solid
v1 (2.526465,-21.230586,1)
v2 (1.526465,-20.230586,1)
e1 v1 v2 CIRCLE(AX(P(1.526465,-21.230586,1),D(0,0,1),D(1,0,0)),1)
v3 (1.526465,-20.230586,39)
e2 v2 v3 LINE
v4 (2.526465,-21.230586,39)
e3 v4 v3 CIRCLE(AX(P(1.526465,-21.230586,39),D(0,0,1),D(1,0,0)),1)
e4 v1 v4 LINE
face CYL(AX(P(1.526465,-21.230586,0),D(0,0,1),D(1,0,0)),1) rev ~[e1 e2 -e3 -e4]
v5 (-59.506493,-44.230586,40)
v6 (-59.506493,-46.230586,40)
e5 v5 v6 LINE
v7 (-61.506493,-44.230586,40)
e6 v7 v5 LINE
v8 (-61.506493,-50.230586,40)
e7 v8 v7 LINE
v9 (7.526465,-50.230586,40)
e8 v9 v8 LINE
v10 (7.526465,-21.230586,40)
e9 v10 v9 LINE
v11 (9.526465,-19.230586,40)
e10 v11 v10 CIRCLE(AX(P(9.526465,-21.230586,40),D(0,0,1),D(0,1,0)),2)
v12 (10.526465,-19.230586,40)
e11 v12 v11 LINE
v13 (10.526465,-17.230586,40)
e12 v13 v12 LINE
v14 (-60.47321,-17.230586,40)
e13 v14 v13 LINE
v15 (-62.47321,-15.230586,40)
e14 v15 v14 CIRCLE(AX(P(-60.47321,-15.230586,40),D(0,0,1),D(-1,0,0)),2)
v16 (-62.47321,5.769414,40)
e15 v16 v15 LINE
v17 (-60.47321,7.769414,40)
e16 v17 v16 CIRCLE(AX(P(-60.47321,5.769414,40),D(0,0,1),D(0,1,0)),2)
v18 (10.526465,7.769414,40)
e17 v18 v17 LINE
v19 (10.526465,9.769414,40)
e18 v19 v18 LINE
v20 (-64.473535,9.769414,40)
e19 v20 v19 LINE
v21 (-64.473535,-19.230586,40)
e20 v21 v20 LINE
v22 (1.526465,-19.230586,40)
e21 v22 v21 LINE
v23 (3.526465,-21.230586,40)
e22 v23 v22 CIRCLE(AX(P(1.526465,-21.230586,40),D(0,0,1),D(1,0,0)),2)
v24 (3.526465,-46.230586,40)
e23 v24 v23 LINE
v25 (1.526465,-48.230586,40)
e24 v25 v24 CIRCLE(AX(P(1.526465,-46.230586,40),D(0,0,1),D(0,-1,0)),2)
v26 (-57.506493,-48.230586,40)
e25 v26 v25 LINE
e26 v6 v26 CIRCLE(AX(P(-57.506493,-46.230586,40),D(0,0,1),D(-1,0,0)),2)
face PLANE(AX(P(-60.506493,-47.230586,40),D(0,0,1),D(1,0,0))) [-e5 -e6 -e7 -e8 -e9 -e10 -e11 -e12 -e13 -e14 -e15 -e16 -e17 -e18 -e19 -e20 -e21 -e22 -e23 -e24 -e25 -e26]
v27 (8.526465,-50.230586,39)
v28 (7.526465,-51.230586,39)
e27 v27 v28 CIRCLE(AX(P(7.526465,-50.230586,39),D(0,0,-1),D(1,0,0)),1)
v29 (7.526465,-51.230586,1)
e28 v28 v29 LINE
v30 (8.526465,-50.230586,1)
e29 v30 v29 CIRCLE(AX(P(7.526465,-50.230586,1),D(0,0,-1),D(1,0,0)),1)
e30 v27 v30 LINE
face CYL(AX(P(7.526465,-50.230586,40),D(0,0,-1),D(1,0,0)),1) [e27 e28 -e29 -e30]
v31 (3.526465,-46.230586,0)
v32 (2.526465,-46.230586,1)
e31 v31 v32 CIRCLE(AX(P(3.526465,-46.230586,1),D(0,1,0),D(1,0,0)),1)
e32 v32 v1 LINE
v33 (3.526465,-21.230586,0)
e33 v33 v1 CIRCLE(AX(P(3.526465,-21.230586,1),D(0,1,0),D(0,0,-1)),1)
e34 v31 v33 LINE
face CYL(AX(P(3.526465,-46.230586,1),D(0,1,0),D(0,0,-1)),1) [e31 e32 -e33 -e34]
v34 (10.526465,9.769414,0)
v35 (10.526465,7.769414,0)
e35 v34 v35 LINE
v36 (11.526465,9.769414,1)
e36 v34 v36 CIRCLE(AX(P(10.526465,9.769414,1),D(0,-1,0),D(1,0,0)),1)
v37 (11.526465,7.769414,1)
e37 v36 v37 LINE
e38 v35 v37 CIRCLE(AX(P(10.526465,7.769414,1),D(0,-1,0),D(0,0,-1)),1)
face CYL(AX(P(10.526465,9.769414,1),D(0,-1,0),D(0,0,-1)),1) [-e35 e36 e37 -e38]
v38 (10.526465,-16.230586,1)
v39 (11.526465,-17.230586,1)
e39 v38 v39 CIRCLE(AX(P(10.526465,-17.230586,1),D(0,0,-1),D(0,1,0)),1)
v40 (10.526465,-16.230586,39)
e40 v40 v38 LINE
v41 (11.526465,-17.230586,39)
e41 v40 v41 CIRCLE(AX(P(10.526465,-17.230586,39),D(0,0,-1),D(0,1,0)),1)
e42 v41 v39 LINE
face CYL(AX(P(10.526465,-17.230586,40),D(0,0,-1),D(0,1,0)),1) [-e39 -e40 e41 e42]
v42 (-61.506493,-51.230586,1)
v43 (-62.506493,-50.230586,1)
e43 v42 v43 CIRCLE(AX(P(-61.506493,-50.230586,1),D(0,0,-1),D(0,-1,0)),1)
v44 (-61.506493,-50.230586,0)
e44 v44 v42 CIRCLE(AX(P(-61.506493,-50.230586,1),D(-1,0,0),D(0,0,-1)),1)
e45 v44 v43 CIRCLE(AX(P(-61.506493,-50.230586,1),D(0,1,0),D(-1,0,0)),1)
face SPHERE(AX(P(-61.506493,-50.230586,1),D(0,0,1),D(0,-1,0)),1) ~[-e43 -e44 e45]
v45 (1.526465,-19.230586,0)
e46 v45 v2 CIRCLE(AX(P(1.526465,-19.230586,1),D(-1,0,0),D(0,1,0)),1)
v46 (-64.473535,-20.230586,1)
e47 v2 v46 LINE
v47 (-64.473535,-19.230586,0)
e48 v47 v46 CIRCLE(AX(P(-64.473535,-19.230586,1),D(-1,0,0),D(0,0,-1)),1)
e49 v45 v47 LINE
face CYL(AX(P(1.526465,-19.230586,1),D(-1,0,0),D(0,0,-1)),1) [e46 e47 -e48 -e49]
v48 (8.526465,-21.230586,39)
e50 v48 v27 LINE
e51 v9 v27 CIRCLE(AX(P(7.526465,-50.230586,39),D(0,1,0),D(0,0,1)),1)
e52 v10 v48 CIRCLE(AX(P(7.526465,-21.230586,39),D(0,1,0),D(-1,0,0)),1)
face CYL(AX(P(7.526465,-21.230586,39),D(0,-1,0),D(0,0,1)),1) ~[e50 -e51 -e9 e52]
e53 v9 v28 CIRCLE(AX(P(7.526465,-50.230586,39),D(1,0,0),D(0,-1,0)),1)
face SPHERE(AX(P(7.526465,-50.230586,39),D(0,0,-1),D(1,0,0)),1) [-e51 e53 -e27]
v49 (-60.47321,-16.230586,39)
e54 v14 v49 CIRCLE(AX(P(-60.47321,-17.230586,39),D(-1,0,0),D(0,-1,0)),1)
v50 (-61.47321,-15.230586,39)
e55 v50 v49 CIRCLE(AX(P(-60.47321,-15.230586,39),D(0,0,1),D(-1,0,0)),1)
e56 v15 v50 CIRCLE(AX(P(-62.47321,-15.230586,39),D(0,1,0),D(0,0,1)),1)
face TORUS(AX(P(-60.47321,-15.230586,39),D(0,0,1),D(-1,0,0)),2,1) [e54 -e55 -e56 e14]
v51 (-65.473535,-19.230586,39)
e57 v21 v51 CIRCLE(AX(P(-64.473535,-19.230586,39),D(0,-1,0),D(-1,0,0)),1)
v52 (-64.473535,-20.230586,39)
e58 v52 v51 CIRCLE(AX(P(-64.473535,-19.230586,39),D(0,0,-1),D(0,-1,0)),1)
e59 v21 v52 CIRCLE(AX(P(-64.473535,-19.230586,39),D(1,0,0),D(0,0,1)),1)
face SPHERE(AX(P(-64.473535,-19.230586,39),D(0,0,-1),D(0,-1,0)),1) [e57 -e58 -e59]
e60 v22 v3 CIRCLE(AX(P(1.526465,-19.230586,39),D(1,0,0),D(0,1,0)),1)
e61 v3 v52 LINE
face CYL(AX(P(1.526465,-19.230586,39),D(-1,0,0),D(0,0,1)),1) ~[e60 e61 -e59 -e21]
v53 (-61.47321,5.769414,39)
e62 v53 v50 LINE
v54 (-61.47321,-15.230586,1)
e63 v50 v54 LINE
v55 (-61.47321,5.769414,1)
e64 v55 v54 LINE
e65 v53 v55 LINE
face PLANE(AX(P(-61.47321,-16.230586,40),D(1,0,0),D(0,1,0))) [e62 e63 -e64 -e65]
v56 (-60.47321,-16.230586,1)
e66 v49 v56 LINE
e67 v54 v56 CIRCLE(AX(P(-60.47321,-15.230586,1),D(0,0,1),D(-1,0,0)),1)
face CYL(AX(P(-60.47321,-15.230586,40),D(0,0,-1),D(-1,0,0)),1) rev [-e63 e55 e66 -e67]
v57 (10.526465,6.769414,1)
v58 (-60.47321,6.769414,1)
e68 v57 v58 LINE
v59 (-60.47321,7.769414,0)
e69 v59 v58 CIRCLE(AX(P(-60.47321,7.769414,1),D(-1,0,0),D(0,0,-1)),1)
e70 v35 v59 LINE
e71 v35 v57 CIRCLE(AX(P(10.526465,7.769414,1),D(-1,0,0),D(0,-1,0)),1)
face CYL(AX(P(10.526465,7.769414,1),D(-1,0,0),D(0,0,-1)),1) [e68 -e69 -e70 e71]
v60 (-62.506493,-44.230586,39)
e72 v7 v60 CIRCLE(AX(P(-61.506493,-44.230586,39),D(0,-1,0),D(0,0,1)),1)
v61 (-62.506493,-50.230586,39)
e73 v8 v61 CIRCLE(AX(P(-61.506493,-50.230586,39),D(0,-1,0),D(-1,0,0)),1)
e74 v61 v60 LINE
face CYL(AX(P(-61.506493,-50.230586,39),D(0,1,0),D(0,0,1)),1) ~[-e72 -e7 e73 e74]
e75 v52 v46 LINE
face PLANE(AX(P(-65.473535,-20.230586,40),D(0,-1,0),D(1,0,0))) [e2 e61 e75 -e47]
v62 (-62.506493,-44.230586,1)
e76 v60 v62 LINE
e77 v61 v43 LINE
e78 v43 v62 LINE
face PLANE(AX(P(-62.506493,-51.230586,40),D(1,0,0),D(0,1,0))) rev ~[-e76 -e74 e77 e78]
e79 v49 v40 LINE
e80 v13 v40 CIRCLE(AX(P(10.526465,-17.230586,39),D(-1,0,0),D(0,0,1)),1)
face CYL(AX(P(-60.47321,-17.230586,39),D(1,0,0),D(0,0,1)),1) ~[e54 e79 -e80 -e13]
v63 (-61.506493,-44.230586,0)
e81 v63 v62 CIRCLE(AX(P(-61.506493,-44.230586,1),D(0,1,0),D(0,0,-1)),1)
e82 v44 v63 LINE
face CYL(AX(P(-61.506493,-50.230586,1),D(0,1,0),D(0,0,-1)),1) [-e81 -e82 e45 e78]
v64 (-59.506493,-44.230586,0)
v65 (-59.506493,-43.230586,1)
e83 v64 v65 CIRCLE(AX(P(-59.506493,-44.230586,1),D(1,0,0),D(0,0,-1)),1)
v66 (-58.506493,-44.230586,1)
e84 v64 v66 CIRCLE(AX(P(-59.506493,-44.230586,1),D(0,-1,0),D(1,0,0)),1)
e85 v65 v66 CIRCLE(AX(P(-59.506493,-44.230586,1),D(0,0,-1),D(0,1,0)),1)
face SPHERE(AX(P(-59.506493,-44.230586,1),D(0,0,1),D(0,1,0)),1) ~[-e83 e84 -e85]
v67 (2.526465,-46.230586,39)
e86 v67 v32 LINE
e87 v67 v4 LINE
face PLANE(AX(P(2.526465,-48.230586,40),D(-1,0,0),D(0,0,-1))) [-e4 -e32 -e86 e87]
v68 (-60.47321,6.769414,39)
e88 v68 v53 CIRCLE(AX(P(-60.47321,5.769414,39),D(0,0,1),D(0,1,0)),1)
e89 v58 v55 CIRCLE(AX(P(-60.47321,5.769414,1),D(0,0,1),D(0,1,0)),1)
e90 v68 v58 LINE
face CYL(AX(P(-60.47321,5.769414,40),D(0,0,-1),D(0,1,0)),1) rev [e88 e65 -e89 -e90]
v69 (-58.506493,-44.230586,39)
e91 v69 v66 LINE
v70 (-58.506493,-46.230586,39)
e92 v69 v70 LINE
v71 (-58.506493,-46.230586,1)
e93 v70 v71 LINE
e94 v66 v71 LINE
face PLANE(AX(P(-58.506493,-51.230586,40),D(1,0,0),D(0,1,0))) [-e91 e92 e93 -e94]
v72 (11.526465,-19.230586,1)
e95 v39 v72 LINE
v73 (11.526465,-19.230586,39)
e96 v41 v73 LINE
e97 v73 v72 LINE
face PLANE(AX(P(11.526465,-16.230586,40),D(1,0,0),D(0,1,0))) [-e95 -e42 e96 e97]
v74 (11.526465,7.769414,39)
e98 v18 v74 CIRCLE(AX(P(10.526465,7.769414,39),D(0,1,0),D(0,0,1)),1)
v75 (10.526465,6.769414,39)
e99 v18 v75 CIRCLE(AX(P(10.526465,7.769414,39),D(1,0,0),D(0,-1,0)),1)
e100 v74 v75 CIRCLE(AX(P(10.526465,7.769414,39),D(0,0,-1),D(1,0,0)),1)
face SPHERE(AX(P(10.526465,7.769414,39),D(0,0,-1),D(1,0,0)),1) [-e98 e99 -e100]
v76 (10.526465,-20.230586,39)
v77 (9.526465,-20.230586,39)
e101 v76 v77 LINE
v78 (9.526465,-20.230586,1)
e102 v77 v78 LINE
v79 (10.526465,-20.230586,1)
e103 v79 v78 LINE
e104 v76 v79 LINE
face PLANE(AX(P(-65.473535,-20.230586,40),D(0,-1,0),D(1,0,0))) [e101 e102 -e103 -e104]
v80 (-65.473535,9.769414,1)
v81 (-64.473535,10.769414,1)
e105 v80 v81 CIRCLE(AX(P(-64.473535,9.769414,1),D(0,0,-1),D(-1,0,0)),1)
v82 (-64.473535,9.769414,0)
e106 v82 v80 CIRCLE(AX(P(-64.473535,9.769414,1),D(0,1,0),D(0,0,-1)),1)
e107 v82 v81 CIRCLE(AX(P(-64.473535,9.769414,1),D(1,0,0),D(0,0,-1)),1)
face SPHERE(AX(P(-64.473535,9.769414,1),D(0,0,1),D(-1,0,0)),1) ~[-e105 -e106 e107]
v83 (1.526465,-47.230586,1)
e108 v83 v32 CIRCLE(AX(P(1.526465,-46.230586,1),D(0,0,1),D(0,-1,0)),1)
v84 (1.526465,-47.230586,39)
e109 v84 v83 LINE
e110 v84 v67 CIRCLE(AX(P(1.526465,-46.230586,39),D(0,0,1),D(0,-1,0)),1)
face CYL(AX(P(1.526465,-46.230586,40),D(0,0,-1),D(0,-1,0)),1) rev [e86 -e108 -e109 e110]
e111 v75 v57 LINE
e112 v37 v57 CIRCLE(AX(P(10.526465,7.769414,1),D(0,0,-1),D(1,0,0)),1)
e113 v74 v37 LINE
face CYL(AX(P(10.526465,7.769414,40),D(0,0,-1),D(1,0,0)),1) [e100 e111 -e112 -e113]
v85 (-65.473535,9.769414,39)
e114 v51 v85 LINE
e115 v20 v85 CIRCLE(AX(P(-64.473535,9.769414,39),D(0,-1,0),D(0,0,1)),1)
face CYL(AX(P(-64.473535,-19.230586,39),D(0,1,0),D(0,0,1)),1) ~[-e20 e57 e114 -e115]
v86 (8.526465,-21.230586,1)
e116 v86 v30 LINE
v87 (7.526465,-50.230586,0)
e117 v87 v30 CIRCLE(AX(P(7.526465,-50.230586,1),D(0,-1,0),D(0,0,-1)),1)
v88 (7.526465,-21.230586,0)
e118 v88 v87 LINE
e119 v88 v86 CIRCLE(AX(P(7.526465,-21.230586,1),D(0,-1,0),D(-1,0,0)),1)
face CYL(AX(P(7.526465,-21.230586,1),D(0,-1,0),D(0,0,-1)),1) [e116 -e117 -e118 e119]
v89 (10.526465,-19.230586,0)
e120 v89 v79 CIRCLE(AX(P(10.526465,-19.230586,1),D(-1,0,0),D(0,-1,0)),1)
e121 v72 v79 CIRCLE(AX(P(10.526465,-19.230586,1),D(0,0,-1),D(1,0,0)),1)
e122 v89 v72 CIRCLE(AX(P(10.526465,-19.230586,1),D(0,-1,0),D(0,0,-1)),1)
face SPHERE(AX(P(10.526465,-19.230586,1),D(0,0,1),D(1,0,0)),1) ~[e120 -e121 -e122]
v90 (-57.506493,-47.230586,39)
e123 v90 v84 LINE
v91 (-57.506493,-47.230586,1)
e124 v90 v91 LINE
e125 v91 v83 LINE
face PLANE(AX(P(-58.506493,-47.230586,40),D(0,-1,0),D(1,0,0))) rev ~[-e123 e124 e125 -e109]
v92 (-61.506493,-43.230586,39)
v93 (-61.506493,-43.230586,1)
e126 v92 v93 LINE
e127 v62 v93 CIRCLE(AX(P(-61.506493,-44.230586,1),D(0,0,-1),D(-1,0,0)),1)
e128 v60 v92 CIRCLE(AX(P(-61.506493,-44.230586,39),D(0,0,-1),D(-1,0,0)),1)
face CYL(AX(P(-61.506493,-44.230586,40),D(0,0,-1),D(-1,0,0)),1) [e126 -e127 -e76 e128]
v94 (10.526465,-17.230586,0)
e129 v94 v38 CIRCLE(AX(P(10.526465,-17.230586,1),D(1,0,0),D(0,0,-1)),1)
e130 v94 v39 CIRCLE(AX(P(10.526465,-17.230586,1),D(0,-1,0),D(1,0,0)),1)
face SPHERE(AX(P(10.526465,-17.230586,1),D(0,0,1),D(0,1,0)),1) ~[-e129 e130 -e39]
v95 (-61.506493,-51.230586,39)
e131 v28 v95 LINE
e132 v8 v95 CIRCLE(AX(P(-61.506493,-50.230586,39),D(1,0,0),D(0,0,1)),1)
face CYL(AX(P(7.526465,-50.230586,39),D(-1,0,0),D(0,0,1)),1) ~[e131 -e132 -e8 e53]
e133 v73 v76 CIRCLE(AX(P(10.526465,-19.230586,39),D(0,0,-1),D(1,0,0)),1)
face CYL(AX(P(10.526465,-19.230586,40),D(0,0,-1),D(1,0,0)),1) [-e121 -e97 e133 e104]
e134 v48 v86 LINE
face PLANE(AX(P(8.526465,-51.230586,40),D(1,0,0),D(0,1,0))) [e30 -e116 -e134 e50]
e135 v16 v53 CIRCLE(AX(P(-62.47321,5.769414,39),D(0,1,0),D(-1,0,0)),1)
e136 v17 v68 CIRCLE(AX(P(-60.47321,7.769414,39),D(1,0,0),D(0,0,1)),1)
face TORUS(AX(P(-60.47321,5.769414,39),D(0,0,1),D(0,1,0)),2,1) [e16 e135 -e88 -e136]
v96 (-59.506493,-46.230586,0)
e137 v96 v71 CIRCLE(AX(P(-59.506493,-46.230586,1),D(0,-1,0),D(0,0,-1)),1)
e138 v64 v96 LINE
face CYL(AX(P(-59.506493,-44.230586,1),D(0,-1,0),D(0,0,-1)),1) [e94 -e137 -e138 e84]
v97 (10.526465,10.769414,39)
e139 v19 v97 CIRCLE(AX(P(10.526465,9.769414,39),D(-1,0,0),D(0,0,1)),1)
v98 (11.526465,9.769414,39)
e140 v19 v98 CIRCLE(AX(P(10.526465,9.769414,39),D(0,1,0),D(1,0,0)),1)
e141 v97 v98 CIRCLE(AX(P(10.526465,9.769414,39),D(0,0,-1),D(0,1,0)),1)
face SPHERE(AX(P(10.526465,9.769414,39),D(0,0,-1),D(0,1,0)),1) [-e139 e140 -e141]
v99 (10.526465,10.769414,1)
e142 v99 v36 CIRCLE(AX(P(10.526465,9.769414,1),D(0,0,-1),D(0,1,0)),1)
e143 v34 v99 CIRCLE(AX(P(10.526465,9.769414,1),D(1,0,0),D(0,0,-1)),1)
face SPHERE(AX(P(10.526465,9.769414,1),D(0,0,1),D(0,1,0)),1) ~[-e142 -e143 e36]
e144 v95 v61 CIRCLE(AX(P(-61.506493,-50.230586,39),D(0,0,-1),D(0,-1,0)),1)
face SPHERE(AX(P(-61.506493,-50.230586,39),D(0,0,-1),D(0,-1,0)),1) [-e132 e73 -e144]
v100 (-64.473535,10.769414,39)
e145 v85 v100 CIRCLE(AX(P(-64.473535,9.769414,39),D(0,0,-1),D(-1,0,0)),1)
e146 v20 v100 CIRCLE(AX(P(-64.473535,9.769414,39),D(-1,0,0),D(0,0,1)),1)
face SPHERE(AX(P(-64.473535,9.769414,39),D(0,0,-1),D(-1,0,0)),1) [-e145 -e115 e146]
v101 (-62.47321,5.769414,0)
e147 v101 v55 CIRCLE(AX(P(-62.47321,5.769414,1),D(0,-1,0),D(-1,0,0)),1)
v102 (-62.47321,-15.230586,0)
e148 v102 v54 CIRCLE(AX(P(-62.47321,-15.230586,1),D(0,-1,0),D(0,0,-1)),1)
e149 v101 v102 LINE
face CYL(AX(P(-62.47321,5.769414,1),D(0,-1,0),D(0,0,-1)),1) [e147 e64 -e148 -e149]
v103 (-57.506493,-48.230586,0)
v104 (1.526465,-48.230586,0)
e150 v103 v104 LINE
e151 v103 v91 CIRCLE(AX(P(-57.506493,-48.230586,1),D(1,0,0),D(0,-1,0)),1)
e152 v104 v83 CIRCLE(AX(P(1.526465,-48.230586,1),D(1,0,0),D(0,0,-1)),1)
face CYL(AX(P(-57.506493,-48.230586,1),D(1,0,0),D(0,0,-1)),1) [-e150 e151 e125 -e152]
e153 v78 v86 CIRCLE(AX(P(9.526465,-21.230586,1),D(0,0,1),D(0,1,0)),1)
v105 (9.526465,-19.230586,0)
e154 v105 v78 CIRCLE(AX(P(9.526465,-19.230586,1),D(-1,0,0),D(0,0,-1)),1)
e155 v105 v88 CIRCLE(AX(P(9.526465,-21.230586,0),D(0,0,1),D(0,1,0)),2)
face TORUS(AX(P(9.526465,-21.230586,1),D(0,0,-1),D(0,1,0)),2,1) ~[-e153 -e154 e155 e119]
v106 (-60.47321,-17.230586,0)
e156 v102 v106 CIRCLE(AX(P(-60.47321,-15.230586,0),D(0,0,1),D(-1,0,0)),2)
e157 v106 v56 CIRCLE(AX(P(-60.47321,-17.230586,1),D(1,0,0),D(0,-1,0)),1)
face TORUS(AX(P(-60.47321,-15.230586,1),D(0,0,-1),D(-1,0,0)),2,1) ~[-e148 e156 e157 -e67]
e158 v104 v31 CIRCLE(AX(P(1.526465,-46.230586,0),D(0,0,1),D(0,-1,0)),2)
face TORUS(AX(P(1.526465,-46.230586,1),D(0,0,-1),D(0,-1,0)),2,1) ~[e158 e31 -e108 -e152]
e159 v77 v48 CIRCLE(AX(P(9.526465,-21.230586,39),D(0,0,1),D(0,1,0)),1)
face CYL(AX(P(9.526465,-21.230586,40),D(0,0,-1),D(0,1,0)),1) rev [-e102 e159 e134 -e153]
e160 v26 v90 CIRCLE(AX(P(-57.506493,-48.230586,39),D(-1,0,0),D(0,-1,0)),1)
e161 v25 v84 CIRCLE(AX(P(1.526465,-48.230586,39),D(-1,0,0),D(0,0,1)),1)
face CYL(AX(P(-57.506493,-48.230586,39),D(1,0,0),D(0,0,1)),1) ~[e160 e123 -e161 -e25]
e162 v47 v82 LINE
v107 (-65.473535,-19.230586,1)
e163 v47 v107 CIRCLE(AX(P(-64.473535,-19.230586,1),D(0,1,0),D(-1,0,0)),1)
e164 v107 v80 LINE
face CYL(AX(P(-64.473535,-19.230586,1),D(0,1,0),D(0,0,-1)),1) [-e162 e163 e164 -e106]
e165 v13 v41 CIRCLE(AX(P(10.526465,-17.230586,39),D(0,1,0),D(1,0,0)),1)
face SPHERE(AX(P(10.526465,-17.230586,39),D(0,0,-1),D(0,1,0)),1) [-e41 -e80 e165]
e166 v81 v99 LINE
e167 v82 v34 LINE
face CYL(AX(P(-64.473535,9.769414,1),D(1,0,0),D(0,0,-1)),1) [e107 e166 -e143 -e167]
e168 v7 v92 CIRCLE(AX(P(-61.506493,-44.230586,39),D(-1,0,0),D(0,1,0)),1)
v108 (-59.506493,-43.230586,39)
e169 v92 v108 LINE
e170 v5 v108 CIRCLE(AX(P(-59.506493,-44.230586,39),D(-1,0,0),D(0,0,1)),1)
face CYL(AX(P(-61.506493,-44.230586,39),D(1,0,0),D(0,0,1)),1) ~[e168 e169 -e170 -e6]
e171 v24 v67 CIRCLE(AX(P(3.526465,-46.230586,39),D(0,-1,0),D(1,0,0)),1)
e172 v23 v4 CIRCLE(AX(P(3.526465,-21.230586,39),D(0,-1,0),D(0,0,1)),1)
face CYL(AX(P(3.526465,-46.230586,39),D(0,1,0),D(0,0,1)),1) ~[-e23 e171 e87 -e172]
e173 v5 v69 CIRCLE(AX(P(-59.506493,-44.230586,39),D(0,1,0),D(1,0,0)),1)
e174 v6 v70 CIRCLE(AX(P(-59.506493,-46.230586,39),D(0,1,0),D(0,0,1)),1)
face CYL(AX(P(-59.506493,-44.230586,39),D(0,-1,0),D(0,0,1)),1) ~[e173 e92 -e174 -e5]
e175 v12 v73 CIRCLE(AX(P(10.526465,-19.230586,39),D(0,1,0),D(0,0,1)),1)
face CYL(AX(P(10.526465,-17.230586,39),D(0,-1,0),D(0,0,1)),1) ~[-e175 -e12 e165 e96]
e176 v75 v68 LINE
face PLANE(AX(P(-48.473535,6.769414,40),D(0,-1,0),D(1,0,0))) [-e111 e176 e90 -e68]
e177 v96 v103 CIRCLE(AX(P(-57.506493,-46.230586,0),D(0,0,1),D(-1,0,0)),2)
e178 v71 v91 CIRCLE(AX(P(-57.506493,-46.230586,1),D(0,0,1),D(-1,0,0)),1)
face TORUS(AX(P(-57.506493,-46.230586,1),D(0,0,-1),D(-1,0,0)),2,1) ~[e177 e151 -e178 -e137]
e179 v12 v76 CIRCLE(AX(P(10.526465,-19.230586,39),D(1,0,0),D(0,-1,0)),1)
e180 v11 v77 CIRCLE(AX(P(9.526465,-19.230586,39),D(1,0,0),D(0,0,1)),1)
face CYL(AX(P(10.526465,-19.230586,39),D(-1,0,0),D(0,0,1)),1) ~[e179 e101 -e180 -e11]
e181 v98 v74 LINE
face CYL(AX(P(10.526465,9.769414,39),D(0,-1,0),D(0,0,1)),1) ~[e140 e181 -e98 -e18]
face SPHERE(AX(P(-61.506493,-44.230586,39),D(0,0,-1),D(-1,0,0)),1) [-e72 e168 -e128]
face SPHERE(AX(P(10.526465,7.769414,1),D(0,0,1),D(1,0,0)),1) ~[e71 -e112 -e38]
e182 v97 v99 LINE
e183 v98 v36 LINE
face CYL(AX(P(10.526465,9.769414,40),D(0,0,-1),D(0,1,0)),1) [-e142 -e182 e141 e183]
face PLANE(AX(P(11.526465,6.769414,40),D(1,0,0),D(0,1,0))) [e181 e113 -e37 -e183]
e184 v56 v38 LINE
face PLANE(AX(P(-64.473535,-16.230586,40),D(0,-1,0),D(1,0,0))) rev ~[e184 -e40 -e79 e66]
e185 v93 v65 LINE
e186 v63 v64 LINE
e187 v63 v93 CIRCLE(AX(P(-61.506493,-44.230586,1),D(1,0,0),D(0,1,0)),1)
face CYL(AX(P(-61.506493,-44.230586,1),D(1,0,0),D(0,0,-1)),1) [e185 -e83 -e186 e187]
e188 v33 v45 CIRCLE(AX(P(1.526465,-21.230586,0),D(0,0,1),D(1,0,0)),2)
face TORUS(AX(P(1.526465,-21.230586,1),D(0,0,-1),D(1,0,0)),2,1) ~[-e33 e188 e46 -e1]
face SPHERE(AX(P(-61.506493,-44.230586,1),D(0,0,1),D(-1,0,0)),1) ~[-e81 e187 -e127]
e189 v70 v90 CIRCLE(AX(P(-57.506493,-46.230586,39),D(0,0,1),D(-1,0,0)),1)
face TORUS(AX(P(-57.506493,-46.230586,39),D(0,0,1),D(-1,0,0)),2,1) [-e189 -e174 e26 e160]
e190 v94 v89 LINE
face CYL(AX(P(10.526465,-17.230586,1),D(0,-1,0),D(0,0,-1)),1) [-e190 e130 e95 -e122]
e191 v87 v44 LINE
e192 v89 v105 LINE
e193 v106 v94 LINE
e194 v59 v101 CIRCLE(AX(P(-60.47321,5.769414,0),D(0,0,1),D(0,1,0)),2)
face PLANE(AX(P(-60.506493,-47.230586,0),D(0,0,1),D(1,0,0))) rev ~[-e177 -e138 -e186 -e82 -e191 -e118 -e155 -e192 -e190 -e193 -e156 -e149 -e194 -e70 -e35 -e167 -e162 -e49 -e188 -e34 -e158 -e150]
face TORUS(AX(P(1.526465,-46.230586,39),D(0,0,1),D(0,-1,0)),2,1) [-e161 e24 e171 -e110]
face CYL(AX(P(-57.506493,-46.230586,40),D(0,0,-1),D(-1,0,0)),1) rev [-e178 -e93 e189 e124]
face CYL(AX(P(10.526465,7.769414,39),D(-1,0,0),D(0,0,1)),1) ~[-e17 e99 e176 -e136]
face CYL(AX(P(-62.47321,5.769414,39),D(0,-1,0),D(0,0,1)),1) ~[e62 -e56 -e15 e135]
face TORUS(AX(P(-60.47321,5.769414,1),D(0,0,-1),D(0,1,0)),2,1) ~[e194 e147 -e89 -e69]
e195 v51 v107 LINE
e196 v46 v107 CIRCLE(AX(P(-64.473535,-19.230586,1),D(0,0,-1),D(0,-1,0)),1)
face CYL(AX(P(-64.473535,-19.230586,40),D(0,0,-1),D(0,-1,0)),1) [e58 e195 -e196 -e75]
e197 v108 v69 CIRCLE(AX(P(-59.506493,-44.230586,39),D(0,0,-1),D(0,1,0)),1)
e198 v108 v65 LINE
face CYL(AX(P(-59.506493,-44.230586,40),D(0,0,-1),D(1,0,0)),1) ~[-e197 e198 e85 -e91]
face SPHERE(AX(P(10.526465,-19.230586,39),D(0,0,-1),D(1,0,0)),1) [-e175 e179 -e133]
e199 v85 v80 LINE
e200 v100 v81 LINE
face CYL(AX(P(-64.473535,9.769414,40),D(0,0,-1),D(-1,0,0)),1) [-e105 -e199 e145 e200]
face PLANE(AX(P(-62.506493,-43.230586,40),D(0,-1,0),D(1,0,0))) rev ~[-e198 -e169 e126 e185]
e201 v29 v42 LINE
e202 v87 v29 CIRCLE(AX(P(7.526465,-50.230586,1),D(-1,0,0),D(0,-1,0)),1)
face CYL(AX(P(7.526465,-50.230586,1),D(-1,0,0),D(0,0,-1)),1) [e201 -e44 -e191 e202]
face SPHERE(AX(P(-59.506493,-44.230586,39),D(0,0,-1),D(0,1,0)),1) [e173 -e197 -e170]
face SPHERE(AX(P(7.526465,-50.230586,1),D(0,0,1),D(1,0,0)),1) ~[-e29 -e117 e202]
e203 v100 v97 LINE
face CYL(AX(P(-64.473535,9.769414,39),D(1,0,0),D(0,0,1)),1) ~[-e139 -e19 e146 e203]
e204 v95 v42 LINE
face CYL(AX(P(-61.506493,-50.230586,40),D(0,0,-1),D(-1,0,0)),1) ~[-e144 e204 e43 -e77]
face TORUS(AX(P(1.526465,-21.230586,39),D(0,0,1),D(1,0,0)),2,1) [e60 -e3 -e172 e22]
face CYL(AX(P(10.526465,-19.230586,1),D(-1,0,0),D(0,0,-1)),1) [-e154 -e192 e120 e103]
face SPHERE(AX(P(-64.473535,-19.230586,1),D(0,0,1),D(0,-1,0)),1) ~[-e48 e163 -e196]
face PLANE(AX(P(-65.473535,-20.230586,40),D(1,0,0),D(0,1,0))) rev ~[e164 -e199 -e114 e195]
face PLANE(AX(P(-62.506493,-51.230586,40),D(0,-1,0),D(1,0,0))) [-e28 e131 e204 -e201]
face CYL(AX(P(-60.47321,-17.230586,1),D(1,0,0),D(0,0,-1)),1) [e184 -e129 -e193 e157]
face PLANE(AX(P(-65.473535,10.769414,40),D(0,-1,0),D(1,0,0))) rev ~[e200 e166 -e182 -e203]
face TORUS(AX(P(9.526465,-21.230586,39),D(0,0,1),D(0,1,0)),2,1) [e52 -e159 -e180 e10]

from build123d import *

# Parameters (mm, degrees)
ESBO_O2_W                 = 60
ESBO_O2_H                 = 3
RESSALTO_EXTRUS_O2_DEPTH  = 40
ESBO_O3_W                 = 16
ESBO_O3_H                 = 40
RESSALTO_EXTRUS_O3_DEPTH  = 3
ESBO_O4_W                 = 2
ESBO_O4_H                 = 40
RESSALTO_EXTRUS_O4_DEPTH  = 3
ESBO_O5_W                 = 2.000325399
ESBO_O5_H                 = 40
RESSALTO_EXTRUS_O5_DEPTH  = 26
ESBO_O6_W                 = 18
ESBO_O6_H                 = 3
RESSALTO_EXTRUS_O6_DEPTH  = 40
ESBO_O9_W                 = 3
ESBO_O9_H                 = 40
RESSALTO_EXTRUS_O8_DEPTH  = 3
ESBO_O10_W                = 40
ESBO_O10_H                = 3
RESSALTO_EXTRUS_O9_DEPTH  = 60
ESBO_O11_W                = 1
ESBO_O11_H                = 3
CORTE_EXTRUS_O1_DEPTH     = 40
ESBO_O12_W                = 2
ESBO_O12_H                = 3
CORTE_EXTRUS_O2_DEPTH     = 40
ESBO_O13_W                = 3
ESBO_O13_H                = 40
RESSALTO_EXTRUS_O10_DEPTH = 35
ESBO_O14_W                = 40
ESBO_O14_H                = 3
RESSALTO_EXTRUS_O11_DEPTH = 60
ESBO_O15_W                = 2
ESBO_O15_H                = 40
RESSALTO_EXTRUS_O12_DEPTH = 3
ESBO_O16_W                = 3
ESBO_O16_H                = 40
RESSALTO_EXTRUS_O13_DEPTH = 32
ESBO_O17_W                = 40
ESBO_O17_H                = 3
RESSALTO_EXTRUS_O14_DEPTH = 1
ESBO_O18_W                = 3
ESBO_O18_H                = 35
CORTE_EXTRUS_O3_DEPTH     = 40
ESBO_O19_W                = 1
ESBO_O19_H                = 3
RESSALTO_EXTRUS_O15_DEPTH = 40
ESBO_O20_W                = 1
ESBO_O20_H                = 3
RESSALTO_EXTRUS_O16_DEPTH = 40
ESBO_O21_W                = 1
ESBO_O21_H                = 29
RESSALTO_EXTRUS_O17_DEPTH = 40
ESBO_O22_W                = 57
ESBO_O22_H                = 3
RESSALTO_EXTRUS_O18_DEPTH = 40
ESBO_O23_W                = 60
ESBO_O23_H                = 3
CORTE_EXTRUS_O4_DEPTH     = 40
ESBO_O24_W                = 77
ESBO_O24_H                = 1
RESSALTO_EXTRUS_O19_DEPTH = 40
ESBO_O25_W                = 77
ESBO_O25_H                = 4
RESSALTO_EXTRUS_O20_DEPTH = 40
ESBO_O26_W                = 60
ESBO_O26_H                = 3
CORTE_EXTRUS_O5_DEPTH     = 40
ESBO_O27_W                = 1
ESBO_O27_H                = 23
RESSALTO_EXTRUS_O21_DEPTH = 40
ESBO_O28_W                = 3
ESBO_O28_H                = 31
RESSALTO_EXTRUS_O22_DEPTH = 40
ESBO_O29_W                = 54
ESBO_O29_H                = 1
RESSALTO_EXTRUS_O24_DEPTH = 40
ESBO_O33_W                = 4
ESBO_O33_H                = 8
RESSALTO_EXTRUS_O25_DEPTH = 40
ESBO_O35_W                = 4.03295804
ESBO_O35_H                = 4
CORTE_EXTRUS_O6_DEPTH     = 40
ESBO_O36_W                = 3
ESBO_O36_H                = 4
RESSALTO_EXTRUS_O26_DEPTH = 40
ESBO_O37_W                = 4
ESBO_O37_H                = 8
RESSALTO_EXTRUS_O27_DEPTH = 40
FILETE1_R                 = 1
FILETE2_R                 = 1


with BuildPart() as part:
    # Esboço2 → Ressalto-extrusão2 (new body)
    with BuildSketch(Plane.XY):
        with Locations((-18.473534946, 5.269414246)):
            Rectangle(ESBO_O2_W, ESBO_O2_H)
    extrude(amount=RESSALTO_EXTRUS_O2_DEPTH)

    # Esboço3 → Ressalto-extrusão3 (add)
    with BuildSketch(Plane(origin=(0, 6.769414246, 0), x_dir=(1, 0, 0), z_dir=(0, 1, 0))):
        with Locations((-54.473534946, -20)):
            Rectangle(ESBO_O3_W, ESBO_O3_H)
    extrude(amount=RESSALTO_EXTRUS_O3_DEPTH)

    # Esboço4 → Ressalto-extrusão4 (add)
    with BuildSketch(Plane.XZ.offset(-6.769414246)):
        with Locations((-63.473534946, 20)):
            Rectangle(ESBO_O4_W, ESBO_O4_H)
    extrude(amount=-RESSALTO_EXTRUS_O4_DEPTH)

    # Esboço5 → Ressalto-extrusão5 (add)
    with BuildSketch(Plane.XZ.offset(-6.769414246)):
        with Locations((-63.473372247, 20)):
            Rectangle(ESBO_O5_W, ESBO_O5_H)
    extrude(amount=RESSALTO_EXTRUS_O5_DEPTH)

    # Esboço6 → Ressalto-extrusão6 (add)
    with BuildSketch(Plane.XY.offset(40)):
        with Locations((-55.473534946, -17.730585754)):
            Rectangle(ESBO_O6_W, ESBO_O6_H)
    extrude(amount=-RESSALTO_EXTRUS_O6_DEPTH)

    # Esboço9 → Ressalto-extrusão8 (add)
    with BuildSketch(Plane(origin=(0, -16.230585754, 0), x_dir=(1, 0, 0), z_dir=(0, 1, 0))):
        with Locations((-47.973534946, -20)):
            Rectangle(ESBO_O9_W, ESBO_O9_H)
    extrude(amount=RESSALTO_EXTRUS_O8_DEPTH)

    # Esboço10 → Ressalto-extrusão9 (add)
    with BuildSketch(Plane(origin=(-46.473534946, 0, 0), x_dir=(0, 0, -1), z_dir=(1, 0, 0))):
        with Locations((-20, -14.730585754)):
            Rectangle(ESBO_O10_W, ESBO_O10_H)
    extrude(amount=RESSALTO_EXTRUS_O9_DEPTH)

    # Esboço11 → Corte-extrusão1 (cut)
    with BuildSketch(Plane.XY.offset(40)):
        with Locations((-48.973534946, -14.730585754)):
            Rectangle(ESBO_O11_W, ESBO_O11_H)
    extrude(amount=-CORTE_EXTRUS_O1_DEPTH, mode=Mode.SUBTRACT)

    # Esboço12 → Corte-extrusão2 (cut)
    with BuildSketch(Plane.XY.offset(40)):
        with Locations((12.526465054, -14.730585754)):
            Rectangle(ESBO_O12_W, ESBO_O12_H)
    extrude(amount=-CORTE_EXTRUS_O2_DEPTH, mode=Mode.SUBTRACT)

    # Esboço13 → Ressalto-extrusão10 (add)
    with BuildSketch(Plane.XZ.offset(16.230585754)):
        with Locations((7.026465054, 20)):
            Rectangle(ESBO_O13_W, ESBO_O13_H)
    extrude(amount=RESSALTO_EXTRUS_O10_DEPTH)

    # Esboço14 → Ressalto-extrusão11 (add)
    with BuildSketch(Plane.ZY.offset(-5.526465054)):
        with Locations((20, -49.730585754)):
            Rectangle(ESBO_O14_W, ESBO_O14_H)
    extrude(amount=RESSALTO_EXTRUS_O11_DEPTH)

    # Esboço15 → Ressalto-extrusão12 (add)
    with BuildSketch(Plane(origin=(0, -48.230585754, 0), x_dir=(1, 0, 0), z_dir=(0, 1, 0))):
        with Locations((-53.473534946, -20)):
            Rectangle(ESBO_O15_W, ESBO_O15_H)
    extrude(amount=RESSALTO_EXTRUS_O12_DEPTH)

    # Esboço16 → Ressalto-extrusão13 (add)
    with BuildSketch(Plane(origin=(0, -48.230585754, 0), x_dir=(1, 0, 0), z_dir=(0, 1, 0))):
        with Locations((4.026465054, -20)):
            Rectangle(ESBO_O16_W, ESBO_O16_H)
    extrude(amount=RESSALTO_EXTRUS_O13_DEPTH)

    # Esboço17 → Ressalto-extrusão14 (add)
    with BuildSketch(Plane(origin=(-46.473534946, 0, 0), x_dir=(0, 0, -1), z_dir=(1, 0, 0))):
        with Locations((-20, -17.730585754)):
            Rectangle(ESBO_O17_W, ESBO_O17_H)
    extrude(amount=RESSALTO_EXTRUS_O14_DEPTH)

    # Esboço18 → Corte-extrusão3 (cut)
    with BuildSketch(Plane.XY.offset(40)):
        with Locations((7.026465054, -33.730585754)):
            Rectangle(ESBO_O18_W, ESBO_O18_H)
    extrude(amount=-CORTE_EXTRUS_O3_DEPTH, mode=Mode.SUBTRACT)

    # Esboço19 → Ressalto-extrusão15 (add)
    with BuildSketch(Plane.XY.offset(40)):
        with Locations((-45.973534946, 8.269414246)):
            Rectangle(ESBO_O19_W, ESBO_O19_H)
    extrude(amount=-RESSALTO_EXTRUS_O15_DEPTH)

    # Esboço20 → Ressalto-extrusão16 (add)
    with BuildSketch(Plane.XY.offset(40)):
        with Locations((-51.973534946, -46.730585754)):
            Rectangle(ESBO_O20_W, ESBO_O20_H)
    extrude(amount=-RESSALTO_EXTRUS_O16_DEPTH)

    # Esboço21 → Ressalto-extrusão17 (add)
    with BuildSketch(Plane.XY.offset(40)):
        with Locations((-64.973534946, -4.730585754)):
            Rectangle(ESBO_O21_W, ESBO_O21_H)
    extrude(amount=-RESSALTO_EXTRUS_O17_DEPTH)

    # Esboço22 → Ressalto-extrusão18 (add)
    with BuildSketch(Plane.XY.offset(40)):
        with Locations((-16.973534946, -17.730585754)):
            Rectangle(ESBO_O22_W, ESBO_O22_H)
    extrude(amount=-RESSALTO_EXTRUS_O18_DEPTH)

    # Esboço23 → Corte-extrusão4 (cut)
    with BuildSketch(Plane.XY.offset(40)):
        with Locations((-18.473534946, -14.730585754)):
            Rectangle(ESBO_O23_W, ESBO_O23_H)
    extrude(amount=-CORTE_EXTRUS_O4_DEPTH, mode=Mode.SUBTRACT)

    # Esboço24 → Ressalto-extrusão19 (add)
    with BuildSketch(Plane.XY.offset(40)):
        with Locations((-26.973534946, -19.730585754)):
            Rectangle(ESBO_O24_W, ESBO_O24_H)
    extrude(amount=-RESSALTO_EXTRUS_O19_DEPTH)

    # Esboço25 → Ressalto-extrusão20 (add)
    with BuildSketch(Plane.XY.offset(40)):
        with Locations((-26.973534946, 8.769414246)):
            Rectangle(ESBO_O25_W, ESBO_O25_H)
    extrude(amount=-RESSALTO_EXTRUS_O20_DEPTH)

    # Esboço26 → Corte-extrusão5 (cut)
    with BuildSketch(Plane.XY.offset(40)):
        with Locations((-18.473534946, 5.269414246)):
            Rectangle(ESBO_O26_W, ESBO_O26_H)
    extrude(amount=-CORTE_EXTRUS_O5_DEPTH, mode=Mode.SUBTRACT)

    # Esboço27 → Ressalto-extrusão21 (add)
    with BuildSketch(Plane.XY.offset(40)):
        with Locations((-61.973209547, -4.730585754)):
            Rectangle(ESBO_O27_W, ESBO_O27_H)
    extrude(amount=-RESSALTO_EXTRUS_O21_DEPTH)

    # Esboço28 → Ressalto-extrusão22 (add)
    with BuildSketch(Plane.XY.offset(40)):
        with Locations((7.026465054, -35.730585754)):
            Rectangle(ESBO_O28_W, ESBO_O28_H)
    extrude(amount=-RESSALTO_EXTRUS_O22_DEPTH)

    # Esboço29 → Ressalto-extrusão24 (add)
    with BuildSketch(Plane.XY.offset(40)):
        with Locations((-24.473534946, -47.730585754)):
            Rectangle(ESBO_O29_W, ESBO_O29_H)
    extrude(amount=-RESSALTO_EXTRUS_O24_DEPTH)

    # Esboço33 → Ressalto-extrusão25 (add)
    with BuildSketch(Plane.XY.offset(40)):
        with Locations((-53.506492986, -47.230585754)):
            Rectangle(ESBO_O33_W, ESBO_O33_H)
    extrude(amount=-RESSALTO_EXTRUS_O25_DEPTH)

    # Esboço35 → Corte-extrusão6 (cut)
    with BuildSketch(Plane.XY.offset(40)):
        with Locations((-53.490013966, -45.230585754)):
            Rectangle(ESBO_O35_W, ESBO_O35_H)
    extrude(amount=-CORTE_EXTRUS_O6_DEPTH, mode=Mode.SUBTRACT)

    # Esboço36 → Ressalto-extrusão26 (add)
    with BuildSketch(Plane.XY.offset(40)):
        with Locations((-57.006492986, -49.230585754)):
            Rectangle(ESBO_O36_W, ESBO_O36_H)
    extrude(amount=-RESSALTO_EXTRUS_O26_DEPTH)

    # Esboço37 → Ressalto-extrusão27 (add)
    with BuildSketch(Plane.XY.offset(40)):
        with Locations((-60.506492986, -47.230585754)):
            Rectangle(ESBO_O37_W, ESBO_O37_H)
    extrude(amount=-RESSALTO_EXTRUS_O27_DEPTH)

    # Filete1
    filete1_edges = [part.edges().sort_by_distance(p)[0] for p in [
        (11.526465054, -16.230585754, 20),
        (11.526465054, -20.230585754, 20),
        (2.526465054, -20.230585754, 20),
        (-65.473534946, -20.230585754, 20),
        (11.526465054, 10.769414246, 20),
        (-65.473534946, 10.769414246, 20),
        (11.526465054, 6.769414246, 20),
        (-61.473209547, 6.769414246, 20),
        (-61.473209547, -16.230585754, 20),
        (8.526465054, -20.230585754, 20),
        (8.526465054, -51.230585754, 20),
        (2.526465054, -47.230585754, 20),
        (-58.506492986, -47.230585754, 20),
        (-58.506492986, -43.230585754, 20),
        (-62.506492986, -51.230585754, 20),
        (-62.506492986, -43.230585754, 20),
    ]]
    fillet(filete1_edges, radius=FILETE1_R)

    # Filete2
    filete2_edges = [part.edges().sort_by_distance(p)[0] for p in [
        (-26.973534946, 10.769414246, 0),
        (-26.973534946, 10.769414246, 40),
        (-27.990013966, -47.230585754, 40),
        (-58.506492986, -45.230585754, 40),
        (-60.506492986, -43.230585754, 40),
        (-62.506492986, -47.230585754, 40),
        (-26.990013966, -51.230585754, 40),
        (8.526465054, -35.730585754, 40),
        (10.026465054, -20.230585754, 40),
        (11.526465054, -18.230585754, 40),
        (-24.973372247, -16.230585754, 40),
        (-61.473209547, -4.730585754, 40),
        (-24.973372247, 6.769414246, 40),
        (11.526465054, 8.769414246, 40),
        (-65.473534946, -4.730585754, 40),
        (-31.473534946, -20.230585754, 40),
        (2.526465054, -33.730585754, 40),
        (11.233571835, 7.062307465, 40),
        (11.233571835, 10.476521027, 40),
        (11.233571835, -16.523478973, 40),
        (11.233571835, -19.937692535, 40),
        (8.233571835, -50.937692535, 40),
        (-62.213599768, -43.523478973, 40),
        (-62.213599768, -50.937692535, 40),
        (-58.799386205, -43.523478973, 40),
        (-65.180641727, -19.937692535, 40),
        (-65.180641727, 10.476521027, 40),
        (-65.473534946, -4.730585754, 0),
        (-26.990013966, -51.230585754, 0),
        (-62.506492986, -47.230585754, 0),
        (-60.506492986, -43.230585754, 0),
        (-58.506492986, -45.230585754, 0),
        (-27.990013966, -47.230585754, 0),
        (2.526465054, -33.730585754, 0),
        (-31.473534946, -20.230585754, 0),
        (11.526465054, 8.769414246, 0),
        (-24.973372247, 6.769414246, 0),
        (-61.473209547, -4.730585754, 0),
        (-24.973372247, -16.230585754, 0),
        (11.526465054, -18.230585754, 0),
        (10.026465054, -20.230585754, 0),
        (8.526465054, -35.730585754, 0),
        (11.233571835, 7.062307465, 0),
        (11.233571835, 10.476521027, 0),
        (11.233571835, -16.523478973, 0),
        (11.233571835, -19.937692535, 0),
        (8.233571835, -50.937692535, 0),
        (-62.213599768, -43.523478973, 0),
        (-62.213599768, -50.937692535, 0),
        (-58.799386205, -43.523478973, 0),
        (-65.180641727, -19.937692535, 0),
        (-65.180641727, 10.476521027, 0),
        (-61.180316328, 6.476521027, 40),
        (-61.180316328, 6.476521027, 0),
        (-61.180316328, -15.937692535, 40),
        (-61.180316328, -15.937692535, 0),
        (2.233571835, -20.523478973, 0),
        (2.233571835, -20.523478973, 40),
        (2.233571835, -46.937692535, 40),
        (2.233571835, -46.937692535, 0),
        (-58.213599768, -46.937692535, 40),
        (-58.213599768, -46.937692535, 0),
        (8.819358273, -20.523478973, 40),
        (8.819358273, -20.523478973, 0),
    ]]
    fillet(filete2_edges, radius=FILETE2_R)


solid = part.part
